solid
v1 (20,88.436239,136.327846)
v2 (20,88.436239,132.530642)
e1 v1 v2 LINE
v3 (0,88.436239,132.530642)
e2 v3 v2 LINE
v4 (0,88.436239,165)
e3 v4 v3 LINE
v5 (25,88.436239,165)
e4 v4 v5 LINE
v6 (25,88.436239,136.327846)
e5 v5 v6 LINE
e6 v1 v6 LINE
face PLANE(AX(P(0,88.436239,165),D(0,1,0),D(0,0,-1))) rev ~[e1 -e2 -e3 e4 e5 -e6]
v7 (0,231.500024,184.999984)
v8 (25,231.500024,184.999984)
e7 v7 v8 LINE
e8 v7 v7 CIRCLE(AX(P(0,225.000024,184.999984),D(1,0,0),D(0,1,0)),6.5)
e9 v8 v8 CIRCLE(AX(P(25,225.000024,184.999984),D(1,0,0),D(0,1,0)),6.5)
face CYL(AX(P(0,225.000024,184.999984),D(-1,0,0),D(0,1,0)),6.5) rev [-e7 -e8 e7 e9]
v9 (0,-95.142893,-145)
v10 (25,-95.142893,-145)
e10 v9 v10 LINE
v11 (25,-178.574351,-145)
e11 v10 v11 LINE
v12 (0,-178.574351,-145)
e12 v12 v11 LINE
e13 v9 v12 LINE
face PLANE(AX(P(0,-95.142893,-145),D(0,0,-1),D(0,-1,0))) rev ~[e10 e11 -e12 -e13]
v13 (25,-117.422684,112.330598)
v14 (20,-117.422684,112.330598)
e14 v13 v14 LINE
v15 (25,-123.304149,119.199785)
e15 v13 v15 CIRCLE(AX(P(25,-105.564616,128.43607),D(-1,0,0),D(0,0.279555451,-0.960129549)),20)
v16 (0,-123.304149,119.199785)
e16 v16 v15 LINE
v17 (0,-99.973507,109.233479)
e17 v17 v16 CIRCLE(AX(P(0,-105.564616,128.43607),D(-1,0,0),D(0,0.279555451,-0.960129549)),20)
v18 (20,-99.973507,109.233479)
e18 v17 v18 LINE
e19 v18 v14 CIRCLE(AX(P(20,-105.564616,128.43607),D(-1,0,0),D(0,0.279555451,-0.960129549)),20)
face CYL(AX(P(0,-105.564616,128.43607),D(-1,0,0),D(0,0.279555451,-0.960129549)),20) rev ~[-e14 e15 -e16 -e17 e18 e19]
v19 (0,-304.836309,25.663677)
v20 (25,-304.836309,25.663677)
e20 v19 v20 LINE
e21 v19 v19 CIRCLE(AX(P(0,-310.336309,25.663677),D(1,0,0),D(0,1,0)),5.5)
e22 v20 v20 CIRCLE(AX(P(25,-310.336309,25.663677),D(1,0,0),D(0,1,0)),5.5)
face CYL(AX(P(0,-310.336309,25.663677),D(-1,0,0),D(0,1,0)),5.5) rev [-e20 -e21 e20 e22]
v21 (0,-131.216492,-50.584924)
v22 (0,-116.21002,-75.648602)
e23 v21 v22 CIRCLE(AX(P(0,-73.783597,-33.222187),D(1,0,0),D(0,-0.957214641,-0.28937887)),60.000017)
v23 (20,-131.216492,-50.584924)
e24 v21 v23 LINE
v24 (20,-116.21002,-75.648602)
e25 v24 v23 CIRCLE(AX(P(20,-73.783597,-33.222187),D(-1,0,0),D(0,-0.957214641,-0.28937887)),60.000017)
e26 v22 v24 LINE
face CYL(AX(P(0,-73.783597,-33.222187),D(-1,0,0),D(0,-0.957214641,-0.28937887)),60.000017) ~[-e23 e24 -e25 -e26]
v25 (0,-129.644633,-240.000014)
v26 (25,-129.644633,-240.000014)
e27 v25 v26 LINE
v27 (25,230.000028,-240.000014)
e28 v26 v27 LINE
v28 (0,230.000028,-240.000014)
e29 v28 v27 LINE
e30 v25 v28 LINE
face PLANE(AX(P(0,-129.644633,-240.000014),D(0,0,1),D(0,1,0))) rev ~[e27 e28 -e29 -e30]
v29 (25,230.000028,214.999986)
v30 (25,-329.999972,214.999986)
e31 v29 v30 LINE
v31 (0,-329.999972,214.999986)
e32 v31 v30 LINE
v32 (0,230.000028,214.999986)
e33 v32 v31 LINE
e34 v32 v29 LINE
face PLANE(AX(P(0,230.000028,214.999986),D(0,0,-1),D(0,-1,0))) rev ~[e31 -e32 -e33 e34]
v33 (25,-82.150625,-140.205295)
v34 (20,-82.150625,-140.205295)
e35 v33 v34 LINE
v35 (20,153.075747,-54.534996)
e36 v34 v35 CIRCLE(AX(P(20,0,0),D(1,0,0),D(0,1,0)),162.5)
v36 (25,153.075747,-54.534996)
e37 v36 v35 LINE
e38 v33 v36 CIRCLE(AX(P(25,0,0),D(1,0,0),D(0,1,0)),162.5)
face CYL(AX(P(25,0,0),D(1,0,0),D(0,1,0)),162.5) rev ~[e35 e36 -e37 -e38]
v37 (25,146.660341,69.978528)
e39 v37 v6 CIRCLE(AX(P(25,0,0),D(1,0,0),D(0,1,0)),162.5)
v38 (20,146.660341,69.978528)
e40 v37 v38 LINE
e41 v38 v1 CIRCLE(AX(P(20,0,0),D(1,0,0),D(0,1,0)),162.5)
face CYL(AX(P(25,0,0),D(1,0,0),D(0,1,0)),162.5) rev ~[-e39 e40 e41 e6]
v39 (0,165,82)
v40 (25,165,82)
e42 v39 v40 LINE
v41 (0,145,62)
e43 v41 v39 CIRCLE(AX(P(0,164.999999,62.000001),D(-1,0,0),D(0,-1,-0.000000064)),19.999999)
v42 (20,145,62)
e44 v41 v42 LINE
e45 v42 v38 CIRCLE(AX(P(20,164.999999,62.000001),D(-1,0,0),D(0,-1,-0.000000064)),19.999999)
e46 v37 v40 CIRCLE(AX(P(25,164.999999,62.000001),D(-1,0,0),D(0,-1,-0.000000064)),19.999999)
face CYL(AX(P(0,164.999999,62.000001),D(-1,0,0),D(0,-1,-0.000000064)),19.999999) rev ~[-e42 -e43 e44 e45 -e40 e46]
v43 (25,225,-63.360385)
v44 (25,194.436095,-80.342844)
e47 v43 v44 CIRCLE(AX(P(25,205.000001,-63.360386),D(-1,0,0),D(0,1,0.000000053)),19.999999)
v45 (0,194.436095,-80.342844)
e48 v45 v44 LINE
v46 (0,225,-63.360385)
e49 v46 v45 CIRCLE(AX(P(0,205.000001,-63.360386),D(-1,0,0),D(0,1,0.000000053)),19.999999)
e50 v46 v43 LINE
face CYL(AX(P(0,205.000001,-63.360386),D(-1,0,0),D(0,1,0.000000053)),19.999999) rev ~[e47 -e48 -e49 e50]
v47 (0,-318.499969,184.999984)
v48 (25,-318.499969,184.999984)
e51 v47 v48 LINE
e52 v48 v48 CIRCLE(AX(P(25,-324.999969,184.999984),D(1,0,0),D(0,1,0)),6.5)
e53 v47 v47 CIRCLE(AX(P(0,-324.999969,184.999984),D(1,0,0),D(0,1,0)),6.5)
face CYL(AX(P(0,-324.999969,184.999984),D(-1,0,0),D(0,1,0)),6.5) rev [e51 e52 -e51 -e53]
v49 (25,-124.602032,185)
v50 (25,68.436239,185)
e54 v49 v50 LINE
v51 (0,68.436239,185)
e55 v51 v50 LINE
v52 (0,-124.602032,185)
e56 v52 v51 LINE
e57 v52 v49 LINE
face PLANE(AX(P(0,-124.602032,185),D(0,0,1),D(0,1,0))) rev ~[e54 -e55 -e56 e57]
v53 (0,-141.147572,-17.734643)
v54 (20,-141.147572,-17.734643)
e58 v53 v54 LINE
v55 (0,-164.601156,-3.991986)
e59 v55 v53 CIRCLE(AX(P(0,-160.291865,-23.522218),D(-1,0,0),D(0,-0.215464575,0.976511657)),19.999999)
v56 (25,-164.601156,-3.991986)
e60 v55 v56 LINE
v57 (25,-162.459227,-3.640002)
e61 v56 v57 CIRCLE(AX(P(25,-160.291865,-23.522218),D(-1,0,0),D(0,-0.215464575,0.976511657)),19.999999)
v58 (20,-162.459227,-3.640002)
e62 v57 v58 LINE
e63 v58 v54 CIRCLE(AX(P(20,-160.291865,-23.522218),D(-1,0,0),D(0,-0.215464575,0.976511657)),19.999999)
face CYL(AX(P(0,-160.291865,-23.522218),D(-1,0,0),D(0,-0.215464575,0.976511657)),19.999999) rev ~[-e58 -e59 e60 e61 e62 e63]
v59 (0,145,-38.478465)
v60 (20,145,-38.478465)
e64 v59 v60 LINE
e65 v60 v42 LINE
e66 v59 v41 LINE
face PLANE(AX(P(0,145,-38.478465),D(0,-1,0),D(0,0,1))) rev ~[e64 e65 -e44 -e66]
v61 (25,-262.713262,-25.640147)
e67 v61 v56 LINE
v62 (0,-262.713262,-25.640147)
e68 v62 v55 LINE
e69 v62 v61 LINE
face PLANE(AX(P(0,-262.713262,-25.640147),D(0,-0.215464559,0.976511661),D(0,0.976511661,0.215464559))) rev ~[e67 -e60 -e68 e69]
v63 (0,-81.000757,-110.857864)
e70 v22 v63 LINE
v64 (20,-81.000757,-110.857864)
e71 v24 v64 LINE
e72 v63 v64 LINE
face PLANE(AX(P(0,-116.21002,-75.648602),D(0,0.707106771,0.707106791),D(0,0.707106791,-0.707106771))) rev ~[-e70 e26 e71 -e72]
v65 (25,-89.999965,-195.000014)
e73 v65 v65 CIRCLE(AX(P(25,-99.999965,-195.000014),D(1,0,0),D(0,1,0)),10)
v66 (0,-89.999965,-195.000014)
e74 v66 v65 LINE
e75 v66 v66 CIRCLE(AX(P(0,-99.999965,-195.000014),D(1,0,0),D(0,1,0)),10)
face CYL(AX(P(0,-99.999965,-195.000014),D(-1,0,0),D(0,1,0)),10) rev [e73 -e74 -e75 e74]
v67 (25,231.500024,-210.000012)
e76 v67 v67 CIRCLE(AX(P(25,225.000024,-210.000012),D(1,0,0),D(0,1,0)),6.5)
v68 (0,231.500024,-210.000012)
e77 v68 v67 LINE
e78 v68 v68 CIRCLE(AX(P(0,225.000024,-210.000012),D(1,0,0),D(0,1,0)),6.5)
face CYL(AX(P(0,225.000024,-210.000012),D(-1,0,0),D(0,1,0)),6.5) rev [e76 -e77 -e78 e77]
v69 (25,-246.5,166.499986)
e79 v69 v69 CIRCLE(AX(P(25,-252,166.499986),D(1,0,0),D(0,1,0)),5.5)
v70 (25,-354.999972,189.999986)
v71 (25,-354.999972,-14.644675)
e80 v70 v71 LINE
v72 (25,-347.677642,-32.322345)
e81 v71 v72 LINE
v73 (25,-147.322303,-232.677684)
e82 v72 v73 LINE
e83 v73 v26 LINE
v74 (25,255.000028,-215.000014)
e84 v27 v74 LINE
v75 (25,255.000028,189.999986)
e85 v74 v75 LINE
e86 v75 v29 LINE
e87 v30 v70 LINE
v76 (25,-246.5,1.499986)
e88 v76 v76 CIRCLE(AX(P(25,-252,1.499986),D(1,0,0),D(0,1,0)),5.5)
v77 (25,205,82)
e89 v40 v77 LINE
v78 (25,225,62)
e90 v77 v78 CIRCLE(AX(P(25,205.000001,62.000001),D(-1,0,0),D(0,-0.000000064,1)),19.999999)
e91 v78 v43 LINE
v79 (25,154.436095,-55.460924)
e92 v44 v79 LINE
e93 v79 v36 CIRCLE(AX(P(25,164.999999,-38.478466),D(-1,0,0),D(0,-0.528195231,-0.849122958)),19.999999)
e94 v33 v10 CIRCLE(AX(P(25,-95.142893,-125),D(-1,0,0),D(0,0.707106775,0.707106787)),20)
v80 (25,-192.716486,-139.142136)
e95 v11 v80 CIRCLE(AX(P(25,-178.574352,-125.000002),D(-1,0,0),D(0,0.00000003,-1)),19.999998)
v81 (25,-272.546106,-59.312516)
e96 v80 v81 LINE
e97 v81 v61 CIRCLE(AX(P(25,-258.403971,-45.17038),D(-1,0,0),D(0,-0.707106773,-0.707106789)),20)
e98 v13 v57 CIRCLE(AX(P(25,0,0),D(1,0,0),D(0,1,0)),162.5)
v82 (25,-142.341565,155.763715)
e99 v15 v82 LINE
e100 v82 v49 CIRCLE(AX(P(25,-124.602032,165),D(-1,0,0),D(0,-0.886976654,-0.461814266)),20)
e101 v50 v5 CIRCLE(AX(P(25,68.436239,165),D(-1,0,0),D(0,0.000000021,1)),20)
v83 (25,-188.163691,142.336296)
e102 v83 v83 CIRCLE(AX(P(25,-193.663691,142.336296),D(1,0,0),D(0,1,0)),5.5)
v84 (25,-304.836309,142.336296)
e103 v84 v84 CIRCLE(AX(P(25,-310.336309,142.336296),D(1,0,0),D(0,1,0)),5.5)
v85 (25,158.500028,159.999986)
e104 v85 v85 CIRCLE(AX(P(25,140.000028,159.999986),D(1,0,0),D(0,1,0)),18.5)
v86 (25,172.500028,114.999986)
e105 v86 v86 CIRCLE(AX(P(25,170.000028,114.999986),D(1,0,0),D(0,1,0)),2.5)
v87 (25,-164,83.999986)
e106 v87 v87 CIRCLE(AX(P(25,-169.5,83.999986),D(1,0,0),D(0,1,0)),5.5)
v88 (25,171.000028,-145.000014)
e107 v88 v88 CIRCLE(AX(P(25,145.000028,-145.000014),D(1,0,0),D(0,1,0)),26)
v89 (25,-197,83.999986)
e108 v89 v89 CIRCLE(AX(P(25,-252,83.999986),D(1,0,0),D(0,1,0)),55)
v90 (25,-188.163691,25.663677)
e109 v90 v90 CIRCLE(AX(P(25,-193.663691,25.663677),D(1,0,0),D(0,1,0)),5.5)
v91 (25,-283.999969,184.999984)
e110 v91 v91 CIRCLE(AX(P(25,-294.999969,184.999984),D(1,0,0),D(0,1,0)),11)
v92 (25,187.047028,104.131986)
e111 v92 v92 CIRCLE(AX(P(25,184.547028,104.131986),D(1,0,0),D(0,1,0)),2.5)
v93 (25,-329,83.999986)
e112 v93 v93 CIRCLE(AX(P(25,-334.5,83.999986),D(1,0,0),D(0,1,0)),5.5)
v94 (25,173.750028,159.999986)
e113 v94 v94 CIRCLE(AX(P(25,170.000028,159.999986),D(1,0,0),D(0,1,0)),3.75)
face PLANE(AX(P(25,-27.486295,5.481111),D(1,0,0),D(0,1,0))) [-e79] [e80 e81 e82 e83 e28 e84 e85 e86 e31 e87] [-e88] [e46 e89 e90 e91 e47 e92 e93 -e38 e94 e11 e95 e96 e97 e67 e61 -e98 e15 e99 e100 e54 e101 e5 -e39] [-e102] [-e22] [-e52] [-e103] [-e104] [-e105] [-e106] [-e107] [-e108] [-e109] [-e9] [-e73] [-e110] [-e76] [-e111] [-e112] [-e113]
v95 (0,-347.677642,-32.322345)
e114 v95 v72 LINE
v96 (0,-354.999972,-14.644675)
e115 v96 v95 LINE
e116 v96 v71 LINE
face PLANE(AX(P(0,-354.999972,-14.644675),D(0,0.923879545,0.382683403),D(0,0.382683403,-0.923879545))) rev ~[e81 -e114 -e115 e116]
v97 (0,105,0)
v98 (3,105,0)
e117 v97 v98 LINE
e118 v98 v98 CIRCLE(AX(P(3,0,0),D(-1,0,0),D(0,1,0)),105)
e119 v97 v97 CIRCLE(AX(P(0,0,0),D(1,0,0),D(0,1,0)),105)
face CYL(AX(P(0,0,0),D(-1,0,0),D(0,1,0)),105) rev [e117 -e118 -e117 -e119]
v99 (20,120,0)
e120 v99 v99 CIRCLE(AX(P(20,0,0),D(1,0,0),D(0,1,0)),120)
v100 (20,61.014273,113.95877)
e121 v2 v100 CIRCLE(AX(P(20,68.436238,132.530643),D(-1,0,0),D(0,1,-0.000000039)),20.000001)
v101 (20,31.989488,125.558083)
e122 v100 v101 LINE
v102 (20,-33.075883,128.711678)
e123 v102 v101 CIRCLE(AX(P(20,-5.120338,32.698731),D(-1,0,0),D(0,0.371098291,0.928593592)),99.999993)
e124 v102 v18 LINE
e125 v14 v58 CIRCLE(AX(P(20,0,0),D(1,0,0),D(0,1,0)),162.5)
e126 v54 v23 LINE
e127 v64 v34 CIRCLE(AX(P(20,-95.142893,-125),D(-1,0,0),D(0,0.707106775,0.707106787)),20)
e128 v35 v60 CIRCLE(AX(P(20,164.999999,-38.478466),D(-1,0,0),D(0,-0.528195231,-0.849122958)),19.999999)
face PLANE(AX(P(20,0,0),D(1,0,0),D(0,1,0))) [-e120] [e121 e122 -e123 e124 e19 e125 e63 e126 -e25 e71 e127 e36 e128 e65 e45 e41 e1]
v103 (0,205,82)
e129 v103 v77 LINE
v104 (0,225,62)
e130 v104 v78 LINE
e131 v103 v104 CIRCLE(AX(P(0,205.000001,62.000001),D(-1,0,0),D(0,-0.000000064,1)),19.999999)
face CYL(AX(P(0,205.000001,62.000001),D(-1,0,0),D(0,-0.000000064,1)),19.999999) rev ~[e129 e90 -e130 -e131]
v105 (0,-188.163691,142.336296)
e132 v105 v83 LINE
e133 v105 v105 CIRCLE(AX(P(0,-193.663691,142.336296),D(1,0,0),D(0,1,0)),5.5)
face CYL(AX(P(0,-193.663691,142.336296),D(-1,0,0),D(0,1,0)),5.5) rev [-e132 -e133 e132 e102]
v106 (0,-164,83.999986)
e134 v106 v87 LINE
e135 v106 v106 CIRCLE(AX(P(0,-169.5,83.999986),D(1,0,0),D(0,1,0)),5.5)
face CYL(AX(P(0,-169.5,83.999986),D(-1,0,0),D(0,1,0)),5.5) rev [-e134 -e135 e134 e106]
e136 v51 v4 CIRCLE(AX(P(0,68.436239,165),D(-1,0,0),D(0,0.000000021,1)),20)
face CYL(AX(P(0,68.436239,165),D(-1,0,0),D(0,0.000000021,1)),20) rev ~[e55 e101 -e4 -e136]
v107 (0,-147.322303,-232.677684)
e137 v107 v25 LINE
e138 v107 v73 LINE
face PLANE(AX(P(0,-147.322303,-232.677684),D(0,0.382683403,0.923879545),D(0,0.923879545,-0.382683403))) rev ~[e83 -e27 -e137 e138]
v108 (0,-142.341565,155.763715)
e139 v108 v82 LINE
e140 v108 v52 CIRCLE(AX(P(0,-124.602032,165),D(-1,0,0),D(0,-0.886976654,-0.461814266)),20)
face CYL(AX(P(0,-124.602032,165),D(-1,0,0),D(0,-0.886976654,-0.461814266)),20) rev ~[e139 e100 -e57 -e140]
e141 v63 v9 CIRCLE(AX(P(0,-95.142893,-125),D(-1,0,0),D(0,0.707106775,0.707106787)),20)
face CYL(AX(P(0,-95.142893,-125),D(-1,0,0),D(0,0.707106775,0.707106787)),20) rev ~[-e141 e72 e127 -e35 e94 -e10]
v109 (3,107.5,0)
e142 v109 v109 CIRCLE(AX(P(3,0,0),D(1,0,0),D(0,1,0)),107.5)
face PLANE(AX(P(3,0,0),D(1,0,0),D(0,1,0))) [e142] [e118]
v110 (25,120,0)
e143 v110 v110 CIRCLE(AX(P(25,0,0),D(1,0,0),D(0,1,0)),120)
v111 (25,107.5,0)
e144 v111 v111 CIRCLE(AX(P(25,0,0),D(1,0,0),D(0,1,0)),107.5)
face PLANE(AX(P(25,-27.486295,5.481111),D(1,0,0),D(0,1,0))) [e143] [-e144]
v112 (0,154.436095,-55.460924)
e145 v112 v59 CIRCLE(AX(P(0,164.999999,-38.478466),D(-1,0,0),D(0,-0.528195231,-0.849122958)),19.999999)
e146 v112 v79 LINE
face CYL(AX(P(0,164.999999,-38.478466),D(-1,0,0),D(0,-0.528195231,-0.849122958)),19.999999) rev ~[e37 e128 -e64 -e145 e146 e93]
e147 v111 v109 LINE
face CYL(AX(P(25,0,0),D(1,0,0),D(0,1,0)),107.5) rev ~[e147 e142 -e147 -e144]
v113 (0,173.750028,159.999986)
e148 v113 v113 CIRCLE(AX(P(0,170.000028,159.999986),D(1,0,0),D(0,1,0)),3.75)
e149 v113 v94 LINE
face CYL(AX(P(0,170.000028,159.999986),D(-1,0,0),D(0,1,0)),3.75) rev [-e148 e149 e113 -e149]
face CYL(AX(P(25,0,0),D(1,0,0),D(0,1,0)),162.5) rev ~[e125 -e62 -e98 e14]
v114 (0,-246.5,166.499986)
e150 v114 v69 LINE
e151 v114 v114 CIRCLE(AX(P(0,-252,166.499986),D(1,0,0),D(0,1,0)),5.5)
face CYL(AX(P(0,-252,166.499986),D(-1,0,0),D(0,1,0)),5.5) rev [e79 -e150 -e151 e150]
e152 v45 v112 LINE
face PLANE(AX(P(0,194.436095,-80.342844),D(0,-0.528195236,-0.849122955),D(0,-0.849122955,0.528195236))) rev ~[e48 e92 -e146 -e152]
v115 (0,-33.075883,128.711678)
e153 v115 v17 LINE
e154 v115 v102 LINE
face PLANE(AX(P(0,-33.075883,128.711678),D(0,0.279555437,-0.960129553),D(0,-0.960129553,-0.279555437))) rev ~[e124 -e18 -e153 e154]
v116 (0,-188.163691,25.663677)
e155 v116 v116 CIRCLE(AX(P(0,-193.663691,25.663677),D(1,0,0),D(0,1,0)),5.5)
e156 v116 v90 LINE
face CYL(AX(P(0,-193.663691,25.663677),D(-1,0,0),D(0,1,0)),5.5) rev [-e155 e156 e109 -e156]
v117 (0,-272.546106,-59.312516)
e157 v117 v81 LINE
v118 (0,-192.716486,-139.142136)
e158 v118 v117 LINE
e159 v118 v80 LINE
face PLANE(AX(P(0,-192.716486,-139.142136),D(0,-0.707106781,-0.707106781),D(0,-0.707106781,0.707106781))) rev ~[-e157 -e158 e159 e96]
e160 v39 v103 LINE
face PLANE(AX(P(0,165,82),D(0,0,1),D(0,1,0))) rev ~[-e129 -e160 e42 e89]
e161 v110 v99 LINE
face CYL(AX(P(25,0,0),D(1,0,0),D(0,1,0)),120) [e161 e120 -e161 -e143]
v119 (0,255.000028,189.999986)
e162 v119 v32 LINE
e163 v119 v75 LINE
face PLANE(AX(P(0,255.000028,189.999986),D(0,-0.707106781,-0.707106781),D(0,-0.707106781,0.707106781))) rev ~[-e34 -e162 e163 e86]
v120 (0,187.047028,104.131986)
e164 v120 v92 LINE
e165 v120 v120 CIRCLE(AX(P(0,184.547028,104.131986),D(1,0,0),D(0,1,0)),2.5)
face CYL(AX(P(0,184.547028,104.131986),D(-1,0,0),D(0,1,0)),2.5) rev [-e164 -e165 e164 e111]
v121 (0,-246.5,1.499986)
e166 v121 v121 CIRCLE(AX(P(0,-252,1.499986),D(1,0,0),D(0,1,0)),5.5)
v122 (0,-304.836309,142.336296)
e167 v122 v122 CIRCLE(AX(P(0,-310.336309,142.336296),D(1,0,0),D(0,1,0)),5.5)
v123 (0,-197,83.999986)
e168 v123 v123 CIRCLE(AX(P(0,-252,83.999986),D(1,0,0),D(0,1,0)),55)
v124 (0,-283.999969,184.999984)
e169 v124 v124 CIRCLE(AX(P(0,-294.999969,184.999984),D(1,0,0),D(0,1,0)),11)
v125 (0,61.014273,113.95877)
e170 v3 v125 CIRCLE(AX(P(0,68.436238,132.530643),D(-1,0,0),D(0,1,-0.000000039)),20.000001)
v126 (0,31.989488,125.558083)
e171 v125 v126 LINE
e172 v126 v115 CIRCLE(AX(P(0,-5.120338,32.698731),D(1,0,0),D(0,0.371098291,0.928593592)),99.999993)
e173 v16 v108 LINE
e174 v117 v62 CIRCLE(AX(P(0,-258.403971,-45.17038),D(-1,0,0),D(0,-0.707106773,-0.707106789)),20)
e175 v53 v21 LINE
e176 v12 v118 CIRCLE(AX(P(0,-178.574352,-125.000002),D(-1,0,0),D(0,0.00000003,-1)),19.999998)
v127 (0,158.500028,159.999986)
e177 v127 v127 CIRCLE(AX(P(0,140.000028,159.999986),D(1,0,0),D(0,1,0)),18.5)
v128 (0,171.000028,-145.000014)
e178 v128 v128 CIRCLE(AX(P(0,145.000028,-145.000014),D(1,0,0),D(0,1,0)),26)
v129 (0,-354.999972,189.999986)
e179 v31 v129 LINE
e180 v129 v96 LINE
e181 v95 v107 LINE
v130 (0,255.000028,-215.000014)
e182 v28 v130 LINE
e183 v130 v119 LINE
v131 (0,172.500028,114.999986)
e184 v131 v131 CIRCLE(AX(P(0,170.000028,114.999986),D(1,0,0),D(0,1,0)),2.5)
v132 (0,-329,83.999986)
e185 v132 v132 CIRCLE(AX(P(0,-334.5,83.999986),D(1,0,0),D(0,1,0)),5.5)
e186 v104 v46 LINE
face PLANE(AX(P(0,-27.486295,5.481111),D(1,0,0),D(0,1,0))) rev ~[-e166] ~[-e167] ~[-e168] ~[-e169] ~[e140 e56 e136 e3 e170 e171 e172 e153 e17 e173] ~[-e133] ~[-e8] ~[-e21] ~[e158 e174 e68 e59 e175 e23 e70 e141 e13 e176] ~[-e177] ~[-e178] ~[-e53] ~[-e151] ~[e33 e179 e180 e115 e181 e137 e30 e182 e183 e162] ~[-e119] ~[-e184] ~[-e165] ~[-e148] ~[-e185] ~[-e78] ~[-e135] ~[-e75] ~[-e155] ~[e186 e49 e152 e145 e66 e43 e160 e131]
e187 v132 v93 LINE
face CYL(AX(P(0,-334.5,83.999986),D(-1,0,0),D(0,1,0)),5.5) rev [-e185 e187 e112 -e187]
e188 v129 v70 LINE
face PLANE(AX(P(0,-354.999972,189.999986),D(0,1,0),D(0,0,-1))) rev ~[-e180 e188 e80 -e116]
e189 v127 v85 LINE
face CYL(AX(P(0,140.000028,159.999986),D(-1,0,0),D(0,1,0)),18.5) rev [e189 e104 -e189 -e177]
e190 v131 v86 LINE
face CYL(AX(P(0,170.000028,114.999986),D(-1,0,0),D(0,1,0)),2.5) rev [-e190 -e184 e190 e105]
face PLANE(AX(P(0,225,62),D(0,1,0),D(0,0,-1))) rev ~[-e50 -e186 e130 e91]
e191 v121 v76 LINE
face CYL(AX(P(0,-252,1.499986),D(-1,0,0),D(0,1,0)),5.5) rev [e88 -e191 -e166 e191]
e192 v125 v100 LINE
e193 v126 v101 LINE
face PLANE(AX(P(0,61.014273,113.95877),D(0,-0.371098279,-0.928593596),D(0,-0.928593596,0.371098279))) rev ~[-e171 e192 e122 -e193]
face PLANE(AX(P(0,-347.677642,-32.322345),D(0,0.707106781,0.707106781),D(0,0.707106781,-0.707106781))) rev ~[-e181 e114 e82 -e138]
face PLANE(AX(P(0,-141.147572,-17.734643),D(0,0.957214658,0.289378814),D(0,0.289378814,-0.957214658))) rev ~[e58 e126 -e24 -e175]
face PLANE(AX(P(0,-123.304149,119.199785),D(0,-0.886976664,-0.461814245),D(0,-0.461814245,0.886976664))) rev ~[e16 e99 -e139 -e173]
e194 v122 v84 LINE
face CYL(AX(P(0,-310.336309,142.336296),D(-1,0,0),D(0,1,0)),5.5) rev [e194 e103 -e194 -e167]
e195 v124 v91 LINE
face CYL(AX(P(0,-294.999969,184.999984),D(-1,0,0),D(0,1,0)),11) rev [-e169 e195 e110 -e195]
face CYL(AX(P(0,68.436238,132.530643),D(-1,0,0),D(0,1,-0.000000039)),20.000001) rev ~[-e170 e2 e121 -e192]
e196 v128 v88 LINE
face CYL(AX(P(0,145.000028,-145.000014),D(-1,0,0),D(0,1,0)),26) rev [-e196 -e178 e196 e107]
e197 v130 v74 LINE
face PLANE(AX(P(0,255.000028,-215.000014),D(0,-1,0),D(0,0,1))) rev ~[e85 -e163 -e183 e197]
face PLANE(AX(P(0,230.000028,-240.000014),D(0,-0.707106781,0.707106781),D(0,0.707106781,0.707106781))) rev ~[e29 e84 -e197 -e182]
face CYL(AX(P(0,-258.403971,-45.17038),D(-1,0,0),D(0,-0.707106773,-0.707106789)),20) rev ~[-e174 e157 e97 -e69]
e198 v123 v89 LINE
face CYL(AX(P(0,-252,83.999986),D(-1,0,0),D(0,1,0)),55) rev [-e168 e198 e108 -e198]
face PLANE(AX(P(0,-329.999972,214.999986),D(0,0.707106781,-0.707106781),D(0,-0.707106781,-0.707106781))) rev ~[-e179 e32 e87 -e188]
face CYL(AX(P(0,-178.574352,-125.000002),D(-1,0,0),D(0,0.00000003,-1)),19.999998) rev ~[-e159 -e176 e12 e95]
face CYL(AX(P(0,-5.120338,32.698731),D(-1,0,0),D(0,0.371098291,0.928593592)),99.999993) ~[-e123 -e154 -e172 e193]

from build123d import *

# Parameters (mm, degrees)
F0_R     = 10
F0_R_2   = 6.5
F0_R_3   = 26
F0_R_4   = 5.5
F0_R_5   = 55
F0_R_6   = 11
F0_R_7   = 105
F0_R_8   = 2.5
F0_R_9   = 18.5
F0_R_10  = 3.75
F1_DEPTH = 25
F2_R     = 107.5
F3_DEPTH = 22
F4_R     = 162.5
F4_R_2   = 120
F5_DEPTH = 5


with BuildPart() as f1:
    # F0 (on Right) → F1 (new body)
    with BuildSketch(Plane.YZ):
        Polygon((255.000028, -215.000014), (255.000028, 189.999986), (230.000028, 214.999986), (-329.999972, 214.999986), (-354.999972, 189.999986), (-354.999972, -14.644675), (-347.677642, -32.322345), (-147.322303, -232.677684), (-129.644633, -240.000014), (230.000028, -240.000014), align=None)
        with Locations((-99.999965, -195.000014)):
            Circle(F0_R, mode=Mode.SUBTRACT)
        with BuildLine():
            ThreePointArc((-178.574351, -145), (-186.228019, -143.477591), (-192.716486, -139.142136))
            Line((-192.716486, -139.142136), (-272.546106, -59.312516))
            ThreePointArc((-272.546106, -59.312516), (-277.602171, -39.564214), (-262.713262, -25.640147))
            Line((-262.713262, -25.640147), (-164.601156, -3.991986))
            ThreePointArc((-164.601156, -3.991986), (-150.180759, -6.266335), (-141.147572, -17.734643))
            Line((-141.147572, -17.734643), (-131.216492, -50.584924))
            ThreePointArc((-131.216492, -50.584924), (-125.261921, -64.044001), (-116.21002, -75.648602))
            Line((-116.21002, -75.648602), (-81.000757, -110.857864))
            ThreePointArc((-81.000757, -110.857864), (-76.665302, -132.653669), (-95.142893, -145))
            Line((-95.142893, -145), (-178.574351, -145))
        make_face(mode=Mode.SUBTRACT)
        with Locations((225.000024, -210.000012)):
            Circle(F0_R_2, mode=Mode.SUBTRACT)
        with Locations((145.000028, -145.000014)):
            Circle(F0_R_3, mode=Mode.SUBTRACT)
        with Locations((-310.336309, 25.663677)):
            Circle(F0_R_4, mode=Mode.SUBTRACT)
        with Locations((-252, 1.499986)):
            Circle(F0_R_4, mode=Mode.SUBTRACT)
        with Locations((-334.5, 83.999986)):
            Circle(F0_R_4, mode=Mode.SUBTRACT)
        with Locations((-252, 83.999986)):
            Circle(F0_R_5, mode=Mode.SUBTRACT)
        with Locations((-193.663691, 25.663677)):
            Circle(F0_R_4, mode=Mode.SUBTRACT)
        with Locations((-169.5, 83.999986)):
            Circle(F0_R_4, mode=Mode.SUBTRACT)
        with Locations((-310.336309, 142.336296)):
            Circle(F0_R_4, mode=Mode.SUBTRACT)
        with Locations((-324.999969, 184.999984)):
            Circle(F0_R_2, mode=Mode.SUBTRACT)
        with Locations((-294.999969, 184.999984)):
            Circle(F0_R_6, mode=Mode.SUBTRACT)
        with Locations((-252, 166.499986)):
            Circle(F0_R_4, mode=Mode.SUBTRACT)
        with Locations((-193.663691, 142.336296)):
            Circle(F0_R_4, mode=Mode.SUBTRACT)
        Circle(F0_R_7, mode=Mode.SUBTRACT)
        with BuildLine():
            ThreePointArc((205, 82), (219.142136, 76.142136), (225, 62))
            Line((225, 62), (225, -63.360385))
            ThreePointArc((225, -63.360385), (214.713957, -80.842921), (194.436095, -80.342844))
            Line((194.436095, -80.342844), (154.436095, -55.460924))
            ThreePointArc((154.436095, -55.460924), (147.517464, -48.192421), (145, -38.478465))
            Line((145, -38.478465), (145, 62))
            ThreePointArc((145, 62), (150.857864, 76.142136), (165, 82))
            Line((165, 82), (205, 82))
        make_face(mode=Mode.SUBTRACT)
        with BuildLine():
            Line((-124.602032, 185), (68.436239, 185))
            ThreePointArc((68.436239, 185), (82.578374, 179.142136), (88.436239, 165))
            Line((88.436239, 165), (88.436239, 132.530642))
            ThreePointArc((88.436239, 132.530642), (79.651422, 115.971063), (61.014273, 113.95877))
            Line((61.014273, 113.95877), (31.989488, 125.558083))
            ThreePointArc((31.989488, 125.558083), (-0.279211, 132.581472), (-33.075883, 128.711678))
            Line((-33.075883, 128.711678), (-99.973507, 109.233479))
            ThreePointArc((-99.973507, 109.233479), (-113.421324, 110.043894), (-123.304149, 119.199785))
            Line((-123.304149, 119.199785), (-142.341565, 155.763715))
            ThreePointArc((-142.341565, 155.763715), (-141.700653, 175.374833), (-124.602032, 185))
        make_face(mode=Mode.SUBTRACT)
        with Locations((170.000028, 114.999986)):
            Circle(F0_R_8, mode=Mode.SUBTRACT)
        with Locations((184.547028, 104.131986)):
            Circle(F0_R_8, mode=Mode.SUBTRACT)
        with Locations((140.000028, 159.999986)):
            Circle(F0_R_9, mode=Mode.SUBTRACT)
        with Locations((170.000028, 159.999986)):
            Circle(F0_R_10, mode=Mode.SUBTRACT)
        with Locations((225.000024, 184.999984)):
            Circle(F0_R_2, mode=Mode.SUBTRACT)
    extrude(amount=F1_DEPTH)

    # F2 (on face) → F3 (cut)
    with BuildSketch(Plane.YZ.offset(25)):
        Circle(F2_R)
    extrude(amount=-F3_DEPTH, mode=Mode.SUBTRACT)

    # F4 (on face) → F5 (cut)
    with BuildSketch(Plane.YZ.offset(25)):
        Circle(F4_R)
        Circle(F4_R_2, mode=Mode.SUBTRACT)
    extrude(amount=-F5_DEPTH, mode=Mode.SUBTRACT)


solid = f1.part
